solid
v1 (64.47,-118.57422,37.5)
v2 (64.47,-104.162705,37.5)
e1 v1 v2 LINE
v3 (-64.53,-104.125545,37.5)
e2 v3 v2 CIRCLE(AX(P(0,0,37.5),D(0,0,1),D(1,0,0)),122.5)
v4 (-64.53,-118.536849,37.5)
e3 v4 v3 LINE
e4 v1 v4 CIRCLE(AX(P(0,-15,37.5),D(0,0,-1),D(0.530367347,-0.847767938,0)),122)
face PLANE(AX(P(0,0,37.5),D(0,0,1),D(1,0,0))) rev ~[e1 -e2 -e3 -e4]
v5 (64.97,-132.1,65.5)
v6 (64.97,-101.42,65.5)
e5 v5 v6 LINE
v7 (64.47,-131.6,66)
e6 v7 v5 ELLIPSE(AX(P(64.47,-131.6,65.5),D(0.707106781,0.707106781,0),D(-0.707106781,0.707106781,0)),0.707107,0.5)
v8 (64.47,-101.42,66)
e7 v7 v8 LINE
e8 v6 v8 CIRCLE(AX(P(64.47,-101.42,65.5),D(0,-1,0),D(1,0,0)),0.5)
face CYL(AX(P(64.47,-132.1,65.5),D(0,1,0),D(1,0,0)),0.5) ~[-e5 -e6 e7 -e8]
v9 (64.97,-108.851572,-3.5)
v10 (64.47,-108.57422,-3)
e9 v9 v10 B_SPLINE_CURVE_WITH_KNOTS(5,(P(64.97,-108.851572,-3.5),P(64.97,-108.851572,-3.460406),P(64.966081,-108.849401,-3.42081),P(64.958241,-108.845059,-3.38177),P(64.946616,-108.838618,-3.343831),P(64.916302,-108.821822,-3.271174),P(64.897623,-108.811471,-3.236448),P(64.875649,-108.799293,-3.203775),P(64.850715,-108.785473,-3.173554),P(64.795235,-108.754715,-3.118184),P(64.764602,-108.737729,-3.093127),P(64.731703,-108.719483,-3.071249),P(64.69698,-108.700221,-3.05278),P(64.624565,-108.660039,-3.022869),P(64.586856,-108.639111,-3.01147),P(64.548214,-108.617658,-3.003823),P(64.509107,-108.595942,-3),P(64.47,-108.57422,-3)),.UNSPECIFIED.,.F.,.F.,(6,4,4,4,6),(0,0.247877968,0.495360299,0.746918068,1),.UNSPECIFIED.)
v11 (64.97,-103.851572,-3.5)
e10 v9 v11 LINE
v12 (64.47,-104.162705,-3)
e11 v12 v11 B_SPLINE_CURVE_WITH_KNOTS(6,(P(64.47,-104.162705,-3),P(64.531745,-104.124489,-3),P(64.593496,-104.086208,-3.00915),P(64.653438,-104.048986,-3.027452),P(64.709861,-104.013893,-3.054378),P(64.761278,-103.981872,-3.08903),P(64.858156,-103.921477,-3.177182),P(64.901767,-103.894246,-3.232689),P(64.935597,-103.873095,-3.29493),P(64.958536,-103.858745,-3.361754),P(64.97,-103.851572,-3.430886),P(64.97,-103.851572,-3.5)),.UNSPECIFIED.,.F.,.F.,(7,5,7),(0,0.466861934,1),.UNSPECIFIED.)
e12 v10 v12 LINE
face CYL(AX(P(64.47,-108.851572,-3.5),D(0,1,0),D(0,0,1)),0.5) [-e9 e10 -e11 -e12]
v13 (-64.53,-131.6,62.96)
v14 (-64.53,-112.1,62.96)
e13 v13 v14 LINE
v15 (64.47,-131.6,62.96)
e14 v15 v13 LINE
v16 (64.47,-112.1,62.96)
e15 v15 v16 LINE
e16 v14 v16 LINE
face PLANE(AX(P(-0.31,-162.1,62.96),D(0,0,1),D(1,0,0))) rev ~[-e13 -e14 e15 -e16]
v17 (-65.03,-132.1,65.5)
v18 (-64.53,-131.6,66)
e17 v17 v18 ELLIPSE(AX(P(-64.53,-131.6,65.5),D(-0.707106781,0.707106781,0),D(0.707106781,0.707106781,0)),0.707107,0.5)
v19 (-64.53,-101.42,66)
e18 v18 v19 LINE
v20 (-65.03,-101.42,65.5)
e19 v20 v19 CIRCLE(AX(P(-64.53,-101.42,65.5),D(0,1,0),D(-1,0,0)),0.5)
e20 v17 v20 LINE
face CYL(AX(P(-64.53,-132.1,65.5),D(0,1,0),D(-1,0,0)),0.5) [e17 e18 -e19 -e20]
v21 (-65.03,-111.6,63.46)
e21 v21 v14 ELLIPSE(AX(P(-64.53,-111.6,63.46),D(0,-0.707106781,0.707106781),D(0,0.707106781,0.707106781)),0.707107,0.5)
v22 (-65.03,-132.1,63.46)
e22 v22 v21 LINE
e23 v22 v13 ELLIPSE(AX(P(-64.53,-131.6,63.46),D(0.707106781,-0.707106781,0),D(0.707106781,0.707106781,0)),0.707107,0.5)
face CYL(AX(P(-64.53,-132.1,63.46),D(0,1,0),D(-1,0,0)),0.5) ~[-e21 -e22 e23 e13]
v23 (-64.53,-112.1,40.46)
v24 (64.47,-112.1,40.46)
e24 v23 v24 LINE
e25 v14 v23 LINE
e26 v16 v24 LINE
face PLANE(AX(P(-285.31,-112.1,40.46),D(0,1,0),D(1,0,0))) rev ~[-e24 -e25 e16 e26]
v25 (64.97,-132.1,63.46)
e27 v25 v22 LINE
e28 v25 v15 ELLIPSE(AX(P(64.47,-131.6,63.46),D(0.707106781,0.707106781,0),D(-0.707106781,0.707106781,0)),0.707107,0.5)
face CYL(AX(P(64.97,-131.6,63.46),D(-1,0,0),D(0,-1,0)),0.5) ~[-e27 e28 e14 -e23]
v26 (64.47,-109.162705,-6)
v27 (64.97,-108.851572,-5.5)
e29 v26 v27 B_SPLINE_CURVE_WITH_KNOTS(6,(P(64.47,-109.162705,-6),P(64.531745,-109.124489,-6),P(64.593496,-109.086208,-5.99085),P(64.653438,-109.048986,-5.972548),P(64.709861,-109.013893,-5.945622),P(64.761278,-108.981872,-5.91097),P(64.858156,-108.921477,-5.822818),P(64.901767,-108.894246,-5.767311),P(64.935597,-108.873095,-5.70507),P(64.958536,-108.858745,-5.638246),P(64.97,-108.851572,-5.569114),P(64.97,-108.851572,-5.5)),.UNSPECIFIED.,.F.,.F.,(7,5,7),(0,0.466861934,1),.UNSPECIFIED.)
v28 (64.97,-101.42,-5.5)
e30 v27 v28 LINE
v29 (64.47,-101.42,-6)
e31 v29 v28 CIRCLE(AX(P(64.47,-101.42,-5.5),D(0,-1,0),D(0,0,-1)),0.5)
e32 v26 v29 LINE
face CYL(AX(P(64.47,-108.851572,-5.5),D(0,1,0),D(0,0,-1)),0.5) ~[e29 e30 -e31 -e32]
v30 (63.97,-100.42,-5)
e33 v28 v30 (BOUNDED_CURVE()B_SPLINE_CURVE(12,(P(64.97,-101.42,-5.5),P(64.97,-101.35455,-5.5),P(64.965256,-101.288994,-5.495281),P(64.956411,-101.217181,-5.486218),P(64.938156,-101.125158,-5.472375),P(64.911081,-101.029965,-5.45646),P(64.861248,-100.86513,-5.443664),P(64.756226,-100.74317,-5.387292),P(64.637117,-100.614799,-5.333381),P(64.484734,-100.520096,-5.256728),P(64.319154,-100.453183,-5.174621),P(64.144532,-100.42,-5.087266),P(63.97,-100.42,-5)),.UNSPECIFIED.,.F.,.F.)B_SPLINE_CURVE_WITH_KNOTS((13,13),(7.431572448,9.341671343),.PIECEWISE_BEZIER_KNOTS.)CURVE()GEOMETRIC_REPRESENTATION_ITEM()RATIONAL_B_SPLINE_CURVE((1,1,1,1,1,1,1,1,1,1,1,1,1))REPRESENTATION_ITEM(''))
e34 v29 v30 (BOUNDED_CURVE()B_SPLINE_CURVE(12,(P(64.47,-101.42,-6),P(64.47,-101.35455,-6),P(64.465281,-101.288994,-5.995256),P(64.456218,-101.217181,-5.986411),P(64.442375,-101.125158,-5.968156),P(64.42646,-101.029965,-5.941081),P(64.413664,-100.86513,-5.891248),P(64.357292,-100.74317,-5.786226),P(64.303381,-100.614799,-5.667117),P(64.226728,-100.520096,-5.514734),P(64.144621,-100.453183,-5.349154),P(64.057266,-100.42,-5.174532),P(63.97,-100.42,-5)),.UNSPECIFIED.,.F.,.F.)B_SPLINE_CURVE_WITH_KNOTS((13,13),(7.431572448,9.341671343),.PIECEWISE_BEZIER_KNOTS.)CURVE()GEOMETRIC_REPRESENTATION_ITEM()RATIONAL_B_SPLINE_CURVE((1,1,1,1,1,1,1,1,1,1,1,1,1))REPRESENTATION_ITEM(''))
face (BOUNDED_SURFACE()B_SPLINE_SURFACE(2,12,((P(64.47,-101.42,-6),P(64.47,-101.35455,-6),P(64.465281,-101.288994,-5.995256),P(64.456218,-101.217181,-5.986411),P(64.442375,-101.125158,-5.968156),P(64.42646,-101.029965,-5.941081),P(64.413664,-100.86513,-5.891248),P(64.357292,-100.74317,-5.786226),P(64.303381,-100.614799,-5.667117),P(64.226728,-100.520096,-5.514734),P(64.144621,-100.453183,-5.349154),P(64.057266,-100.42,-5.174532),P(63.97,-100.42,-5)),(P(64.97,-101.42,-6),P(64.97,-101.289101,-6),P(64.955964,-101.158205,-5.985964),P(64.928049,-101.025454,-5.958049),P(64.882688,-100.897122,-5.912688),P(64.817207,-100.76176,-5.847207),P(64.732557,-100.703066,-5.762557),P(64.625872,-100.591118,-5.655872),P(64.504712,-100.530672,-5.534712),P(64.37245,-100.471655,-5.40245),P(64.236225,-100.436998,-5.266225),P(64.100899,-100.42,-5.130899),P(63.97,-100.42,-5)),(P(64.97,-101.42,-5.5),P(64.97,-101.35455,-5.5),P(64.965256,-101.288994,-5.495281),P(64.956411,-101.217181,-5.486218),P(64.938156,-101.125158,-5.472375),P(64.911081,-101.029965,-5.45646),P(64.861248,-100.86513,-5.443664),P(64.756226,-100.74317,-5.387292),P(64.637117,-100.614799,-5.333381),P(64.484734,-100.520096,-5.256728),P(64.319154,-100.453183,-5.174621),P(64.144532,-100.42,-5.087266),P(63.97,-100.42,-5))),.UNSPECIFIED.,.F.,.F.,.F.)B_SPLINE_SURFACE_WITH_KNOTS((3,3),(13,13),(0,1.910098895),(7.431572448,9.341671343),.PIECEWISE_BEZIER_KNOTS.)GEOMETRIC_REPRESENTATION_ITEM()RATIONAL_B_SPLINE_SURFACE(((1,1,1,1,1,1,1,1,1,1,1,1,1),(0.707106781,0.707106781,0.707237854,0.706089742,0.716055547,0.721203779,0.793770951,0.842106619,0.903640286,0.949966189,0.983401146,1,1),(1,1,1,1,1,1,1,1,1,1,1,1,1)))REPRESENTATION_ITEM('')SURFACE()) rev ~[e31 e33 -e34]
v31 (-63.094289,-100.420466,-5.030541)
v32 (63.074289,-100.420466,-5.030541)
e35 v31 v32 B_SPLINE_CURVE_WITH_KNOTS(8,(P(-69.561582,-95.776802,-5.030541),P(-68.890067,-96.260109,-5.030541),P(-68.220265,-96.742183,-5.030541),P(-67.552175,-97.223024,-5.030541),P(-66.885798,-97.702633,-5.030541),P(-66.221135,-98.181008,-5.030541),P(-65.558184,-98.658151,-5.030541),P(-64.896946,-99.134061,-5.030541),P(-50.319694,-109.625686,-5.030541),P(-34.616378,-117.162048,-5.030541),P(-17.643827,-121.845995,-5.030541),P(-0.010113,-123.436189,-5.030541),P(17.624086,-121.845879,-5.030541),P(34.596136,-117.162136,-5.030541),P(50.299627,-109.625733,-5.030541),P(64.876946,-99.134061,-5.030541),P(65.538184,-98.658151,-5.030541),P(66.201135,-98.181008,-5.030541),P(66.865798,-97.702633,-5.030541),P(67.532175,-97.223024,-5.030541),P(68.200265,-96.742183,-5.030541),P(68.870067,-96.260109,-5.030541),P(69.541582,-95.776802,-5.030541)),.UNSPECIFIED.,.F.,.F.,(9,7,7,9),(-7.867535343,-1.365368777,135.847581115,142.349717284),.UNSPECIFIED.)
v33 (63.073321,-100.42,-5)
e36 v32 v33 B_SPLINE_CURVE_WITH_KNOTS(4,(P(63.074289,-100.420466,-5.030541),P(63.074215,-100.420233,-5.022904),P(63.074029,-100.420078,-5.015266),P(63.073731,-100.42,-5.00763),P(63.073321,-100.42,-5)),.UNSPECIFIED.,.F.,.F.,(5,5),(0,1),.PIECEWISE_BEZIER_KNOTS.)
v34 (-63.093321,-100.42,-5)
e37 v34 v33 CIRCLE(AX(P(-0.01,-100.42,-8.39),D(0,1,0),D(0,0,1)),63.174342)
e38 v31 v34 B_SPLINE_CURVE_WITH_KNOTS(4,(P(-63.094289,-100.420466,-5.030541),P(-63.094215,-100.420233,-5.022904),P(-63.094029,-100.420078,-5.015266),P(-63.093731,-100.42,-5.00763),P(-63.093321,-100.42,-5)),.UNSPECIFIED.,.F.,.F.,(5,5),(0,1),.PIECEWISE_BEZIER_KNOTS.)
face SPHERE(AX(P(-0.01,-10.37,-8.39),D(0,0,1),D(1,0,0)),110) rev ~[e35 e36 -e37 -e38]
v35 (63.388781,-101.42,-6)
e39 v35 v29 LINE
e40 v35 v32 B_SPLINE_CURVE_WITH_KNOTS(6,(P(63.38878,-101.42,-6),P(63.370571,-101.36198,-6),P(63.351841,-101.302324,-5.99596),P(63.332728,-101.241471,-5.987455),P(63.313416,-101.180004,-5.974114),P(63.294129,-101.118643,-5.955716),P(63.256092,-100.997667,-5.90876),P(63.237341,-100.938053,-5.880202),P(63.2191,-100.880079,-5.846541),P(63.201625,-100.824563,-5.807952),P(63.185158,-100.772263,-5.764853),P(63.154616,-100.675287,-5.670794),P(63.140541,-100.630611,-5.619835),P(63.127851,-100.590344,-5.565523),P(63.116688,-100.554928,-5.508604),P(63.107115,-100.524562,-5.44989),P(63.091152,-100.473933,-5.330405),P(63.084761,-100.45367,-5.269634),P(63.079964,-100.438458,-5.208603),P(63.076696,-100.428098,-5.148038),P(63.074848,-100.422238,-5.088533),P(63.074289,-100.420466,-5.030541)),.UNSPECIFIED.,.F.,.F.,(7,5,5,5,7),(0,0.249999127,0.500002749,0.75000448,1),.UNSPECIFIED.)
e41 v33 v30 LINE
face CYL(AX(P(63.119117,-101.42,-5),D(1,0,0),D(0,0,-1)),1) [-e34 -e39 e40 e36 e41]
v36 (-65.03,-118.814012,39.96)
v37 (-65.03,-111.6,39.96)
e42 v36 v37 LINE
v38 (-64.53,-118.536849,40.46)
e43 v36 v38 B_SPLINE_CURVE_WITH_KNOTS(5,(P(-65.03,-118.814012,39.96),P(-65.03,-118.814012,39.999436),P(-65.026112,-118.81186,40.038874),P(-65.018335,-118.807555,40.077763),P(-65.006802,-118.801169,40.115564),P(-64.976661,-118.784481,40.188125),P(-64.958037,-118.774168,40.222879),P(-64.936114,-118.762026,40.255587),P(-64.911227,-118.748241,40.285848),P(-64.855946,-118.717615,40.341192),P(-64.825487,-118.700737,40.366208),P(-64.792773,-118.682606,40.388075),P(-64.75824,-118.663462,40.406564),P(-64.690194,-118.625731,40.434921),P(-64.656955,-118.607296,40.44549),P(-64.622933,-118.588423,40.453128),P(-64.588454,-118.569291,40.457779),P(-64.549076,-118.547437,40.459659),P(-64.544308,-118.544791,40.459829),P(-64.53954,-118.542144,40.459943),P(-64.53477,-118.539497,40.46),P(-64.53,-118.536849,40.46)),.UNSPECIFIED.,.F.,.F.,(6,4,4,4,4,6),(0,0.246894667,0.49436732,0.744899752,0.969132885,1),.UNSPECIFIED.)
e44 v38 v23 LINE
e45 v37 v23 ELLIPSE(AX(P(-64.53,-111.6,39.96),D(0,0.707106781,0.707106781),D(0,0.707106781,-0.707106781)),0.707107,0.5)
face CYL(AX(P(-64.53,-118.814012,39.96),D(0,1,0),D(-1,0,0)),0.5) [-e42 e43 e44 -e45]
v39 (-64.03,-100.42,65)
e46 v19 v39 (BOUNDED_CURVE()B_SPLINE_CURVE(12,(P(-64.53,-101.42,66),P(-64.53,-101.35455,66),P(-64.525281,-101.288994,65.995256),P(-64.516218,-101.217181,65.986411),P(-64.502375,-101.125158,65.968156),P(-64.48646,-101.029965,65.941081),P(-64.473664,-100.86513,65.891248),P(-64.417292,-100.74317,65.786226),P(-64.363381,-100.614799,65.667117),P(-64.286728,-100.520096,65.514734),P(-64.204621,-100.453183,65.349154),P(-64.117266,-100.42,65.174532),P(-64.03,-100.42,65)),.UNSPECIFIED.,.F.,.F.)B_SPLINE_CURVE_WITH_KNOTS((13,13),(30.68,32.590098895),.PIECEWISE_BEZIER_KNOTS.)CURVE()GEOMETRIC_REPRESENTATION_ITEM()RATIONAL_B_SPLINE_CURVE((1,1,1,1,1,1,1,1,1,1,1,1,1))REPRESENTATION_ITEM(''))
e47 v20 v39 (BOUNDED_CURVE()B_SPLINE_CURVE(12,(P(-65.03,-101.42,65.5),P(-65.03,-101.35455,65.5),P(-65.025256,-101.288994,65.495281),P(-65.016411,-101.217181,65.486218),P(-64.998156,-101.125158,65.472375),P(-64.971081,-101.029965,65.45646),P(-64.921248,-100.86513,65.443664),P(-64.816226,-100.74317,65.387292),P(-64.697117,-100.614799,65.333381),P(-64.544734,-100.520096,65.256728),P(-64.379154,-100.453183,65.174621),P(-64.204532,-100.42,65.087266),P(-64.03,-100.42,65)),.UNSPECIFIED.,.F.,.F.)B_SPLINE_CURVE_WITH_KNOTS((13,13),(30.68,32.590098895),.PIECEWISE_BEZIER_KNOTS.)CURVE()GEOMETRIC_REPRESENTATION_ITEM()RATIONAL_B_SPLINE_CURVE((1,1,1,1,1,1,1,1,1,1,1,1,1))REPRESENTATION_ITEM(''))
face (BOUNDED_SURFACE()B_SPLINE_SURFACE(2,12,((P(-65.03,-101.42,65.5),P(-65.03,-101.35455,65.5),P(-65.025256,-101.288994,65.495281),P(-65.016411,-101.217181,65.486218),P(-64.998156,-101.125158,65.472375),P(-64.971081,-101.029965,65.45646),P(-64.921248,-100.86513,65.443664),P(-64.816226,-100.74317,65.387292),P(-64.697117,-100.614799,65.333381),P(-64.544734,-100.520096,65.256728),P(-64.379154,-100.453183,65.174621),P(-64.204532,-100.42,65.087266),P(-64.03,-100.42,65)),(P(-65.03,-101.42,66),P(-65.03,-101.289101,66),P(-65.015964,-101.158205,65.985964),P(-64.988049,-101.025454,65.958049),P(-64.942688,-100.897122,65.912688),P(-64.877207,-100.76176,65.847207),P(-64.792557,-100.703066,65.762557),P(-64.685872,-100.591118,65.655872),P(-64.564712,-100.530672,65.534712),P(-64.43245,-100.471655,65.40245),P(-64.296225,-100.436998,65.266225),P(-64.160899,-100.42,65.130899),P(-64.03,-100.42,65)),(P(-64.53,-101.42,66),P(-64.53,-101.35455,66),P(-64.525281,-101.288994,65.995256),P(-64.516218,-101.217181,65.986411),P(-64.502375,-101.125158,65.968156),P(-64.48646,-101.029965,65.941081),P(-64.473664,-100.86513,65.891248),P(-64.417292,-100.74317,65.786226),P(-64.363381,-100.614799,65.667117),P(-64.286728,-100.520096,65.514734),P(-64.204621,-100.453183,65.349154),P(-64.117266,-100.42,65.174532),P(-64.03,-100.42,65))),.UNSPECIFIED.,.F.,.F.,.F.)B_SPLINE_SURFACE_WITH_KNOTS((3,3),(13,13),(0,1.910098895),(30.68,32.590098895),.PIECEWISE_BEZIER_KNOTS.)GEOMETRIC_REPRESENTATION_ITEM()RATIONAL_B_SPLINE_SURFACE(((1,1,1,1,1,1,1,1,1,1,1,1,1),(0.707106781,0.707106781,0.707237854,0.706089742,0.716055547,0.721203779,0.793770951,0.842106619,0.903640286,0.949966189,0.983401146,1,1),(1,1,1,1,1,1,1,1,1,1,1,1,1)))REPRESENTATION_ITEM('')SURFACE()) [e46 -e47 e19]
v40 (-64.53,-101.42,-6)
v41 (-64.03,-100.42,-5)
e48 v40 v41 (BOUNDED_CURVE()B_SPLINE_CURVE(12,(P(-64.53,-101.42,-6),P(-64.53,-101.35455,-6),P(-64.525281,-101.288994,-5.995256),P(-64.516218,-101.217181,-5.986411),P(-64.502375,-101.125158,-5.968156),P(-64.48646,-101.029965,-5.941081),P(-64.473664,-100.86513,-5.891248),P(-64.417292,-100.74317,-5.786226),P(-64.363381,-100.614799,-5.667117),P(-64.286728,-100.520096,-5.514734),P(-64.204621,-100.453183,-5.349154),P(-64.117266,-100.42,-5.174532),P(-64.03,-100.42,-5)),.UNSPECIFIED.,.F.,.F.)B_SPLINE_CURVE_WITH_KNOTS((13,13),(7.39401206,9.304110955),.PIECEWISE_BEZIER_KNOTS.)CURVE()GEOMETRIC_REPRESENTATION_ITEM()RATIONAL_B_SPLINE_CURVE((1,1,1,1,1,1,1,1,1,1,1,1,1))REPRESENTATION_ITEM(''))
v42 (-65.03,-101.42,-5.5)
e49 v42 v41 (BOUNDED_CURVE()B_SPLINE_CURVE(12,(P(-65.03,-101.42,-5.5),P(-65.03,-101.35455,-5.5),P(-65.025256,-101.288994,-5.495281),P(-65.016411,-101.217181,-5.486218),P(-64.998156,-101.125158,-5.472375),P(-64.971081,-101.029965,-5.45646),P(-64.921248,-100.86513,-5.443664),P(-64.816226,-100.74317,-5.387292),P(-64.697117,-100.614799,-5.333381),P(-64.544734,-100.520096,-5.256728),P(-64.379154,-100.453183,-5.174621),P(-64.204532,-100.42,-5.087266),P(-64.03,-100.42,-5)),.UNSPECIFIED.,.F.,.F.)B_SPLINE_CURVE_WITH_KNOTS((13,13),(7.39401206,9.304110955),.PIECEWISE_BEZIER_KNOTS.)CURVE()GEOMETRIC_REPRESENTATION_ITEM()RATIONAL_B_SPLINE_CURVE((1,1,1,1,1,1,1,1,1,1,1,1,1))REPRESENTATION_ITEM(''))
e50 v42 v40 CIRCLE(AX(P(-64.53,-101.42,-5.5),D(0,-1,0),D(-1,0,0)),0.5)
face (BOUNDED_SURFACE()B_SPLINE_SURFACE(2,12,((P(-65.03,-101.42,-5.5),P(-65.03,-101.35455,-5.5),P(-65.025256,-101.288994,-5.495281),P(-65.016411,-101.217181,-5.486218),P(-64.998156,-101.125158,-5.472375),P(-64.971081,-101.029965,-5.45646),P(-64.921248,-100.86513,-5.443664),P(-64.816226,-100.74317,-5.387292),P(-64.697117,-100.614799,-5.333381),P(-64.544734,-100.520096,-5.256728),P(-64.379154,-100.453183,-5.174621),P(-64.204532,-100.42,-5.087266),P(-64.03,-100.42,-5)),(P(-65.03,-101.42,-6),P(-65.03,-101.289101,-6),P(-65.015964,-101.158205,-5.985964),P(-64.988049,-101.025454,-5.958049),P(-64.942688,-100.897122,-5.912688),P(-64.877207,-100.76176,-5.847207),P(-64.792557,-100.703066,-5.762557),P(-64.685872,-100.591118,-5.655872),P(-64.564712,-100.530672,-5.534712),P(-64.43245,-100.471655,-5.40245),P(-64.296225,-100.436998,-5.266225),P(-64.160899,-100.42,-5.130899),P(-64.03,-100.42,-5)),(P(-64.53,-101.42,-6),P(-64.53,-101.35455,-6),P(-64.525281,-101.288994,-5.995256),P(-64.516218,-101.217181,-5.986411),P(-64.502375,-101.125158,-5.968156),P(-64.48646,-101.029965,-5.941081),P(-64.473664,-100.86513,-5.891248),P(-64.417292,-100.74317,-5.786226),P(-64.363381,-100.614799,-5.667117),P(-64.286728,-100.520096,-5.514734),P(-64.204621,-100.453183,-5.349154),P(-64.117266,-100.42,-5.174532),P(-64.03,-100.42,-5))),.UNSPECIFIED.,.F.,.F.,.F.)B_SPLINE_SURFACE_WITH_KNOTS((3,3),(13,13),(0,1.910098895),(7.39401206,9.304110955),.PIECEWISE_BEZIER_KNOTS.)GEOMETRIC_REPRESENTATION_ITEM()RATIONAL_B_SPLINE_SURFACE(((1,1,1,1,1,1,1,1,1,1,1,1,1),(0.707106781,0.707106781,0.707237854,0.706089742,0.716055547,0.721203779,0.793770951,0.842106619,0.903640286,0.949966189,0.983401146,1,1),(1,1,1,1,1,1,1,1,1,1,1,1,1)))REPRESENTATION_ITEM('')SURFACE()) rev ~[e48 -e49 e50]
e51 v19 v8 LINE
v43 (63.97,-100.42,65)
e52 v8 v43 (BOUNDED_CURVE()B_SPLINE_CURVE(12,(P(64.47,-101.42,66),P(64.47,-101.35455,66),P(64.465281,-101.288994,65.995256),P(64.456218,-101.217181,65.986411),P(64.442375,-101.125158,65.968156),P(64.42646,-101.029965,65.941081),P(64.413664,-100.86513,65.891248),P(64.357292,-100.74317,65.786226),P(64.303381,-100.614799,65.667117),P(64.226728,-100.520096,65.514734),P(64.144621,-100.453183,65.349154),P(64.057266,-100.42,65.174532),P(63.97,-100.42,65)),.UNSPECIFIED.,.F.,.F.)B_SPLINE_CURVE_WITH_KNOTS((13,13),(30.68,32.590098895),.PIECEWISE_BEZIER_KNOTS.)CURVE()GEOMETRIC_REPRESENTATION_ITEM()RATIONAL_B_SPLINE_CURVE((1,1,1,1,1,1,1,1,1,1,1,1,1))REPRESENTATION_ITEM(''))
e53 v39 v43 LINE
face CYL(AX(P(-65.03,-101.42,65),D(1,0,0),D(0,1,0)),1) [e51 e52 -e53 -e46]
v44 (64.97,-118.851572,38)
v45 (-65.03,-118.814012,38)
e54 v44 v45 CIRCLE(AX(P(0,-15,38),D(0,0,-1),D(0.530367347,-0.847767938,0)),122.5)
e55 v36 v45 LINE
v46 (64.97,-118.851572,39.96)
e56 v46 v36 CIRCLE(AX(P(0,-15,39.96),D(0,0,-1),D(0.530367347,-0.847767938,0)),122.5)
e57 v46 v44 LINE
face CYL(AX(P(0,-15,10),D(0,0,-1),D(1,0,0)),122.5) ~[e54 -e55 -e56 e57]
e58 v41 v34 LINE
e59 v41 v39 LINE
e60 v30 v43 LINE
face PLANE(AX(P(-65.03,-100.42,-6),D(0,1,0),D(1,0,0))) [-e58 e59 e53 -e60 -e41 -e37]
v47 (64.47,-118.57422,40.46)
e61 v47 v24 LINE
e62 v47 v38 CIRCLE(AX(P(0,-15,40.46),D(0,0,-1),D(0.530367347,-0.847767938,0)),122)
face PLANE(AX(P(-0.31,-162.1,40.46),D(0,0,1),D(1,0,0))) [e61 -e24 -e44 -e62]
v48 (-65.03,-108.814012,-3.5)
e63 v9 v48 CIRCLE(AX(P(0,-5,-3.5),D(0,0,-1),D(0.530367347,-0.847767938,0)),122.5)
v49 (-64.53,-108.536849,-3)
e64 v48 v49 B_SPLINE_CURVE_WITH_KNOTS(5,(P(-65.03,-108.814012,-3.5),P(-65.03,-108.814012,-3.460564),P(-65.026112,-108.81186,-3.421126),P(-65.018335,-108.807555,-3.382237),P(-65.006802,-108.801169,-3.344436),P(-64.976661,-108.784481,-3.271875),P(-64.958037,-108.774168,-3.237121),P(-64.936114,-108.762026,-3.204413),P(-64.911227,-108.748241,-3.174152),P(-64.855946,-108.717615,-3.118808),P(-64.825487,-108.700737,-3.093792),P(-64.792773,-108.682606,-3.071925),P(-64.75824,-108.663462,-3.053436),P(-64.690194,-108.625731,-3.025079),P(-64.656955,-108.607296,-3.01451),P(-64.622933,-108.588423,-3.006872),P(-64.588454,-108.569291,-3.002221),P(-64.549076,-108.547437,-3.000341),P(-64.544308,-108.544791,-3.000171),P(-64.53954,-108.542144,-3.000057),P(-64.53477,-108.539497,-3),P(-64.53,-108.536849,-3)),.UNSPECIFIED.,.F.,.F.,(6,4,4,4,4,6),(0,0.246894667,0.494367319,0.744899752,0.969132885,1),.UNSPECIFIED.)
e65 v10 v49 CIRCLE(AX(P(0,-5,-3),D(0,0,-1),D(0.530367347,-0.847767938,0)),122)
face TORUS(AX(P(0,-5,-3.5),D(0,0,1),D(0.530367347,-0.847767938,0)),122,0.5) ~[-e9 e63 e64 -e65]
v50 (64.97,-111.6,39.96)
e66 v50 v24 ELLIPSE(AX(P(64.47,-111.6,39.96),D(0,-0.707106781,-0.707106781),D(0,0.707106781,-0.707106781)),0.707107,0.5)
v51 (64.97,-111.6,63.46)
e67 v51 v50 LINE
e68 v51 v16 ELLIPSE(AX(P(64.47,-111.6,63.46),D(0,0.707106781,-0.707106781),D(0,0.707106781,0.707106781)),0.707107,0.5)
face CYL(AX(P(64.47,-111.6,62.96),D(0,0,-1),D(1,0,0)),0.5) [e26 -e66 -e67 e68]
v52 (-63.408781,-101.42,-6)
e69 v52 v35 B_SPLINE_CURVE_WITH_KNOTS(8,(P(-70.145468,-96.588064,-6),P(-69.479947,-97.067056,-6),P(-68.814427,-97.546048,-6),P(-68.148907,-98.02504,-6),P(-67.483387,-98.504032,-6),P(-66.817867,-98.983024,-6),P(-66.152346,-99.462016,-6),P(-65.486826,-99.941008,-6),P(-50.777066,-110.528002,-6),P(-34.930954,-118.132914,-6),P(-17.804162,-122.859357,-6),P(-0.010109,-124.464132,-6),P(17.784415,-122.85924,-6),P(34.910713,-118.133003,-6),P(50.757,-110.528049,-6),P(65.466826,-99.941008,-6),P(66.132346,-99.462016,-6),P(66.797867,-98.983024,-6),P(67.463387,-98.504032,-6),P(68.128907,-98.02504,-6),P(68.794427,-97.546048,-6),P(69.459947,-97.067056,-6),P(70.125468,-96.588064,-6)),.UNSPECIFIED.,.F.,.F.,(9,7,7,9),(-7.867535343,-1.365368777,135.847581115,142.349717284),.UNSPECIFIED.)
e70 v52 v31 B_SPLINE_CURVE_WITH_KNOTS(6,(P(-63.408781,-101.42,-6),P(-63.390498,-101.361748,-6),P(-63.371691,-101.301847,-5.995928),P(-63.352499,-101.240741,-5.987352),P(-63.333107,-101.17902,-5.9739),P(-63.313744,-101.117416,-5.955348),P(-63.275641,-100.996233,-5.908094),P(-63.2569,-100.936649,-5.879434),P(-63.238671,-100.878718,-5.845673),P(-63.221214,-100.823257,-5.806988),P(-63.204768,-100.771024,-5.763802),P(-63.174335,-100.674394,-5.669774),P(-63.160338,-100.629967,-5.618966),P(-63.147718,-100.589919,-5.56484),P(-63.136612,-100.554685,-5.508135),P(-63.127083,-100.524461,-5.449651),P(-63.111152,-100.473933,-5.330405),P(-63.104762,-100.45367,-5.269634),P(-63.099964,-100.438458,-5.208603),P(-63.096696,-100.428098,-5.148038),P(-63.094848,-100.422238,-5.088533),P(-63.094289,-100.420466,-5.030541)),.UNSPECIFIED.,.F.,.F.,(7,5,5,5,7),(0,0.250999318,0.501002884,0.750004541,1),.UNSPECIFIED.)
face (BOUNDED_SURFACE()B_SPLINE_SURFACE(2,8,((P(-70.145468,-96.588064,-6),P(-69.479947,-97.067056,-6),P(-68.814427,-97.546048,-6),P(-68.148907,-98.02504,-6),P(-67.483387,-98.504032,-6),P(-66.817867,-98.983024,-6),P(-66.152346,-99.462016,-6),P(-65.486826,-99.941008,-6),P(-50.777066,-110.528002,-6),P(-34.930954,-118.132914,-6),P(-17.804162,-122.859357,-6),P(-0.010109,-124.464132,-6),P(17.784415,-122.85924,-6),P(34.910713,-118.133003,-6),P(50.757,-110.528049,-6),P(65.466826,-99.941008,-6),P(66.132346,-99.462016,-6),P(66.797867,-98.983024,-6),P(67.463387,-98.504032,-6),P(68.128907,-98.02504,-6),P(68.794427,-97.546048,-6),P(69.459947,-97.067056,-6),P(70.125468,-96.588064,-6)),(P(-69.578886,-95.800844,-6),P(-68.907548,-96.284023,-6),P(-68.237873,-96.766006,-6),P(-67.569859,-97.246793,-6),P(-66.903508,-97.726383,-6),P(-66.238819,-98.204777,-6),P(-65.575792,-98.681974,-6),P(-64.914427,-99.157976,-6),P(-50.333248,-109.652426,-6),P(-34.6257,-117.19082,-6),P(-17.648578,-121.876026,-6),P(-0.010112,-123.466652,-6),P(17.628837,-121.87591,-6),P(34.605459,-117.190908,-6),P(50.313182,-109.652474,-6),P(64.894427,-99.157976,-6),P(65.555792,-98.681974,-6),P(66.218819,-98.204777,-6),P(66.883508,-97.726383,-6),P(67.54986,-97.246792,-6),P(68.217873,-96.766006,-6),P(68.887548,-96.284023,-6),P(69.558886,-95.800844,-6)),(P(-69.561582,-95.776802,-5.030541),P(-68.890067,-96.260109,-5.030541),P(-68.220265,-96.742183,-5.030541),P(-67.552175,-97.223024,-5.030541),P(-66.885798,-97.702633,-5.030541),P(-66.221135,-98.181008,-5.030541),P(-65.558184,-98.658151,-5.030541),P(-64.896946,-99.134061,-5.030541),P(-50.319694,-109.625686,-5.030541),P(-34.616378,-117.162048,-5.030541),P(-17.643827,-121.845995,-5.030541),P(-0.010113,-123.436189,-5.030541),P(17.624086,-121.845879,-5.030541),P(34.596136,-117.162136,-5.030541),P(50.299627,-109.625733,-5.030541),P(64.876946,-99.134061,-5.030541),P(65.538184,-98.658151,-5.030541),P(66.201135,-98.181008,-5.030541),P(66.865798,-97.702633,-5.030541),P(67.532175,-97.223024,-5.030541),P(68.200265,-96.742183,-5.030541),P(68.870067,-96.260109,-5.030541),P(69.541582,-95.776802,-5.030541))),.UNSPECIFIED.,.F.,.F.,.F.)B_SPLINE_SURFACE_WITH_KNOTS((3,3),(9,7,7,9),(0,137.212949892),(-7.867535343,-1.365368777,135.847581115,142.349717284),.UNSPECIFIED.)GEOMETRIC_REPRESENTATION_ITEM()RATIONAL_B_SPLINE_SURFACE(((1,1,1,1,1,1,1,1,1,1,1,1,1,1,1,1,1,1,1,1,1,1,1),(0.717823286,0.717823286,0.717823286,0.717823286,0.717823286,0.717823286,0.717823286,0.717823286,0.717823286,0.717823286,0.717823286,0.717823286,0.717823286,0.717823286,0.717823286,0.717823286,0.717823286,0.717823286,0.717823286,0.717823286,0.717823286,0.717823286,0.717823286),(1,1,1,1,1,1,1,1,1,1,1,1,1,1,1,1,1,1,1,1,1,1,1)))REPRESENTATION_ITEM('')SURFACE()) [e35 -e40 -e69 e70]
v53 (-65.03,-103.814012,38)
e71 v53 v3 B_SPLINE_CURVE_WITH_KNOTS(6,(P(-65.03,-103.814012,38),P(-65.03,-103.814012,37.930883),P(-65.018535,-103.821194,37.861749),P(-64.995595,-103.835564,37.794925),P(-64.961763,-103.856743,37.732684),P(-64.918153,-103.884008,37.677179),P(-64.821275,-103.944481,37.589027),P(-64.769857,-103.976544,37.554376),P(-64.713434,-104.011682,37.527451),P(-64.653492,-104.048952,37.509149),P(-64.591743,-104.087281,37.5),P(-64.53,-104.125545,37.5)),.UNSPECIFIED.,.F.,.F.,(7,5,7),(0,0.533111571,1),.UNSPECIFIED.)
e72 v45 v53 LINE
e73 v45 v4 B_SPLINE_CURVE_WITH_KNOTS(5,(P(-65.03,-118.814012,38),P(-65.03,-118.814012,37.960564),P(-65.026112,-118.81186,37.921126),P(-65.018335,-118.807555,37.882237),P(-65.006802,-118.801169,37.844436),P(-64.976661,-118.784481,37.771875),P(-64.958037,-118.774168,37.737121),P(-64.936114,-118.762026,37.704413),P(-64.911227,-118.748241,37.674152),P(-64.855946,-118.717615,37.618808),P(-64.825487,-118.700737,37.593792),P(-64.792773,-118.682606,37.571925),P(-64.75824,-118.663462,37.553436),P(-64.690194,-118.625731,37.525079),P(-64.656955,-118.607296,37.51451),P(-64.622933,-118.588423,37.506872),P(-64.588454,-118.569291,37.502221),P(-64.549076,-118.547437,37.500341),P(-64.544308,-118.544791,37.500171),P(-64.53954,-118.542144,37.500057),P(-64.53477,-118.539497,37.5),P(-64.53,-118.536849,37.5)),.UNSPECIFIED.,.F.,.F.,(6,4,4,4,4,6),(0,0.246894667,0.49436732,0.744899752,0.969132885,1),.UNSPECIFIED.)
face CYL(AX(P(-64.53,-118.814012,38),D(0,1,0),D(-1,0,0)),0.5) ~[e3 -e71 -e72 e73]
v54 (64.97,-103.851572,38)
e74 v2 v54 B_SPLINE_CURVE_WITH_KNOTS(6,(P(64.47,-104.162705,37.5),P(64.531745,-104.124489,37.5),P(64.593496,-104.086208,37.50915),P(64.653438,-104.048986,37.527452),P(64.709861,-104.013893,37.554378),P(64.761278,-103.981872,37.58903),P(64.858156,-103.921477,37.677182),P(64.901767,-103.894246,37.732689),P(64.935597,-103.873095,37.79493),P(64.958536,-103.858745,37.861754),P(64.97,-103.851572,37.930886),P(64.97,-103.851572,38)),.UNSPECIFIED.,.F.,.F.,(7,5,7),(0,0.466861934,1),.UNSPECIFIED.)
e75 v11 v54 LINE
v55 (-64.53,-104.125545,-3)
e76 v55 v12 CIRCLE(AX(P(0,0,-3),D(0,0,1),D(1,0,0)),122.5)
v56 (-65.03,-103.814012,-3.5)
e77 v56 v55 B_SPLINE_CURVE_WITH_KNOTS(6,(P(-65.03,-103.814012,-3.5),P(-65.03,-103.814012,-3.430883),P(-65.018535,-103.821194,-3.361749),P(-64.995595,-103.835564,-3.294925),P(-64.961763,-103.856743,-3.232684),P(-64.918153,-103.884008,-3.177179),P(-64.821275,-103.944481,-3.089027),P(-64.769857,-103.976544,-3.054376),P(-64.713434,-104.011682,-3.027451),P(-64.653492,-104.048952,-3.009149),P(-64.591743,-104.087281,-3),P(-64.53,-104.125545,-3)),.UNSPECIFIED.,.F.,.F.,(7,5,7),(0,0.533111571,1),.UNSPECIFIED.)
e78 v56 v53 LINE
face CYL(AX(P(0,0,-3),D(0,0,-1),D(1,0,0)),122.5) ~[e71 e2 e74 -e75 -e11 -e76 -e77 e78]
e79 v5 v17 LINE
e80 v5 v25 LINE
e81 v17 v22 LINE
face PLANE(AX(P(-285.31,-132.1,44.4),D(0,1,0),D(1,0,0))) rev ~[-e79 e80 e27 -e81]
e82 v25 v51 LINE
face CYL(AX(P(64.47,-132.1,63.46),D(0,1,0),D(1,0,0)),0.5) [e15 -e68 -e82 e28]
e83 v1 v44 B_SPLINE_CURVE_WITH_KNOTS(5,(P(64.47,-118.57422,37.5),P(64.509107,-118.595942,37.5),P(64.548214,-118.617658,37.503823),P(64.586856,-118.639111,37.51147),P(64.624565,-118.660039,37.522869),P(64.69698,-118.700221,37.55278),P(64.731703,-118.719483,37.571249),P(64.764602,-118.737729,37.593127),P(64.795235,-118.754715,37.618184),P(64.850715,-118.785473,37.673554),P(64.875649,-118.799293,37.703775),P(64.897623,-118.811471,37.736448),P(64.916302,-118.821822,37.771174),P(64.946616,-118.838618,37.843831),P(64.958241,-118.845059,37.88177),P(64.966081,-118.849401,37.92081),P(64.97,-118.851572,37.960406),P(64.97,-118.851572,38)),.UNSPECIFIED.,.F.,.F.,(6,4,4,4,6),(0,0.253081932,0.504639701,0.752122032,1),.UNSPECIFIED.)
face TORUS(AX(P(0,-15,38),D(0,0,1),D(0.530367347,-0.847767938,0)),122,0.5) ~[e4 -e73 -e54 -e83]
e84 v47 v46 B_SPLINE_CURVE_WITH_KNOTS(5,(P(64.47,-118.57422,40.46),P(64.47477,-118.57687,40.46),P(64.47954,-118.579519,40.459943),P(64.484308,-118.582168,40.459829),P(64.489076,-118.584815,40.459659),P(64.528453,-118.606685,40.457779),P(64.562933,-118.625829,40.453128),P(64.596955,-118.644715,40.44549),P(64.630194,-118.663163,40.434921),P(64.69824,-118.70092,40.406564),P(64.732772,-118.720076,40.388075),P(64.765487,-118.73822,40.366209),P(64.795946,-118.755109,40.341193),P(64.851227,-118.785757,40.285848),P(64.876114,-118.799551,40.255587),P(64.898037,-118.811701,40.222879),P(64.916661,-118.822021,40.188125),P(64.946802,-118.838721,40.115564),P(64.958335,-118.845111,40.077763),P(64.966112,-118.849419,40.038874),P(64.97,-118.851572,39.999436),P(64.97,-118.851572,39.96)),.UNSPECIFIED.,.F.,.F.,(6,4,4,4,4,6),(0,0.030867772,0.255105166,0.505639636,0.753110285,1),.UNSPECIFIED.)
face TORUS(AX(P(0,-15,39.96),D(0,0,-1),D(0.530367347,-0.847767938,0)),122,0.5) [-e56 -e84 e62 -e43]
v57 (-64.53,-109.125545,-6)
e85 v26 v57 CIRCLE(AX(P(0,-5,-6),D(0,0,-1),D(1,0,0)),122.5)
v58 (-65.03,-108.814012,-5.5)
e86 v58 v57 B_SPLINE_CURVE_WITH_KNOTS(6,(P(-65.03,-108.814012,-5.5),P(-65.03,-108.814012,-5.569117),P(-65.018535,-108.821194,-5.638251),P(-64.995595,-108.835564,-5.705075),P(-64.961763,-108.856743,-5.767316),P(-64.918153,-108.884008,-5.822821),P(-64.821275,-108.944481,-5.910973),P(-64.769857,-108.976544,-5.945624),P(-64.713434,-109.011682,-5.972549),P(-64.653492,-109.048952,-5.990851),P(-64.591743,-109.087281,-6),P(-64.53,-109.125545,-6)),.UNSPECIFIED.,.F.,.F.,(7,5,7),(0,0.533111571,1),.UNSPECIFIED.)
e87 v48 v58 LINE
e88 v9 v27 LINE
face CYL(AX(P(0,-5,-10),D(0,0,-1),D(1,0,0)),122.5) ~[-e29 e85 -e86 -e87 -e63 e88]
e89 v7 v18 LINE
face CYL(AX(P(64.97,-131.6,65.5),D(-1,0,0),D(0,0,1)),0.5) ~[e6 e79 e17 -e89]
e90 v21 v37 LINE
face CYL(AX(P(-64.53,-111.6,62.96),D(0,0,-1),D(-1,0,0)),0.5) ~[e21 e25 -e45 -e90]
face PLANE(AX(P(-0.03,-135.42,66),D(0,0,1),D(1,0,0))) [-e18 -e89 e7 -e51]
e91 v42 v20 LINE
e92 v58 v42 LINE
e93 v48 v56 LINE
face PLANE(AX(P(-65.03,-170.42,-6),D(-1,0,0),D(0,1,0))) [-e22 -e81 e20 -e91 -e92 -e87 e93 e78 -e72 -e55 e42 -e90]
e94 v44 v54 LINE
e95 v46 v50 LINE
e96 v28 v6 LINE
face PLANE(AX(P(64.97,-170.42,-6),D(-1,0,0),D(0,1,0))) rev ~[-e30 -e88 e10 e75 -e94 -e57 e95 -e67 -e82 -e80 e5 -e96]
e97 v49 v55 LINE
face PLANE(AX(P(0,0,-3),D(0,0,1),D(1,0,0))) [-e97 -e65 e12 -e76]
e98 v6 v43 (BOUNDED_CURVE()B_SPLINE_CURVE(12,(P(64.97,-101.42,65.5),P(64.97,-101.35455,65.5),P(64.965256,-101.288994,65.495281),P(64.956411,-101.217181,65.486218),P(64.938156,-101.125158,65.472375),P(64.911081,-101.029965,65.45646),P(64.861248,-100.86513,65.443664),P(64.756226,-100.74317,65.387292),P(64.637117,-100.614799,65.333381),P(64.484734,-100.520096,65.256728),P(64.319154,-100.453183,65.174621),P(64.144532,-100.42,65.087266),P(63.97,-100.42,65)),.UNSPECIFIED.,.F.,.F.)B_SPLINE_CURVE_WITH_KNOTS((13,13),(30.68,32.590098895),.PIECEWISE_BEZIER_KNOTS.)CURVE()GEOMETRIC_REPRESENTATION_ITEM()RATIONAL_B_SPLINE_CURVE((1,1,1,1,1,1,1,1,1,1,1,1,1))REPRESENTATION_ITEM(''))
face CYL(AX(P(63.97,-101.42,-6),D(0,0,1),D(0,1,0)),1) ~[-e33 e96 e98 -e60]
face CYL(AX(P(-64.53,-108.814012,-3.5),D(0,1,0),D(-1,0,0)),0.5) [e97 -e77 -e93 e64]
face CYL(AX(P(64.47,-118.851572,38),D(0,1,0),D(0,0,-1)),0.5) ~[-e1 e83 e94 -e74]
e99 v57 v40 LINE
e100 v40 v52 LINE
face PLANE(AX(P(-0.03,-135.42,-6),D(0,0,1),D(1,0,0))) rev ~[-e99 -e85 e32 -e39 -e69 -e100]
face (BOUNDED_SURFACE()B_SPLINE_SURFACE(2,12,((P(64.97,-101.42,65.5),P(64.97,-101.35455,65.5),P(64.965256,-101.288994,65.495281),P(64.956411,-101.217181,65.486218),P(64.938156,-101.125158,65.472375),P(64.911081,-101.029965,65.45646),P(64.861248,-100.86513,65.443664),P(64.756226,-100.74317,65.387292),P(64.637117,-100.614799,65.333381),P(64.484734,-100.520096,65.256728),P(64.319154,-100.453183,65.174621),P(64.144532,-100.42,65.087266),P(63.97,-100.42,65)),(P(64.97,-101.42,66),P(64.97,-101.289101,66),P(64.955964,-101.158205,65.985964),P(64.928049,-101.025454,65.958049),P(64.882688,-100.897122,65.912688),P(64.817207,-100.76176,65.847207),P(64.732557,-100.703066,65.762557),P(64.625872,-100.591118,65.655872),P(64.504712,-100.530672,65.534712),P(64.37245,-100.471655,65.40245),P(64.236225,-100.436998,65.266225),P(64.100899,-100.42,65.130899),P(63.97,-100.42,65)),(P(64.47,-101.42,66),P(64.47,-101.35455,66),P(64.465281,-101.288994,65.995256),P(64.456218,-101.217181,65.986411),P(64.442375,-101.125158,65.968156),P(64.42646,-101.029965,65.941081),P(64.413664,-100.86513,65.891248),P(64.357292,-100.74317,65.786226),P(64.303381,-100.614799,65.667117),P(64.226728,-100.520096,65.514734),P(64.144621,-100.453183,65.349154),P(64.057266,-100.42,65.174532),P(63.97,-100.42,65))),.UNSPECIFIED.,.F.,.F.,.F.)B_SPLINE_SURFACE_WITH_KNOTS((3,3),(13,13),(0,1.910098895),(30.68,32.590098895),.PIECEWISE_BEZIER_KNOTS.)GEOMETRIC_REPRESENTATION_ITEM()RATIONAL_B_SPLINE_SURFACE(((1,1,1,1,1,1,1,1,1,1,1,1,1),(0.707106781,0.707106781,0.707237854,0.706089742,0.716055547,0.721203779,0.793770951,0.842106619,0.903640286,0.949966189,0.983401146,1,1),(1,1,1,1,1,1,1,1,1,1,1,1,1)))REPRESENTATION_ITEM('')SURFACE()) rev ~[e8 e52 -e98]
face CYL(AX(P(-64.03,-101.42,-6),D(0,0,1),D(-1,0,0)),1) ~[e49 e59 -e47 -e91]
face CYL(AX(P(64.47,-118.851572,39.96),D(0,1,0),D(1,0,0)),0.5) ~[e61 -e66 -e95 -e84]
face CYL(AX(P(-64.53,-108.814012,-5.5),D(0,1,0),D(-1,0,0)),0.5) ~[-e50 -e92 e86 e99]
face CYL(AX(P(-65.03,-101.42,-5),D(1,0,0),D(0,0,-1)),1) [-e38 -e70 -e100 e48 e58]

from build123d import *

# Parameters (mm, degrees)
BOX003_W      = 570
BOX003_H      = 100
BOX003_DEPTH  = 22.5
TUBE003_R     = 250
TUBE003_R_2   = 122.5
TUBE003_DEPTH = 37.5
TUBE002_R     = 250
TUBE002_R_2   = 122.5
TUBE002_DEPTH = 37.5
TUBE001_R     = 250
TUBE001_R_2   = 122.5
TUBE001_DEPTH = 40.5
BOX001_W      = 570
BOX001_H      = 100
BOX001_DEPTH  = 22.5
BOX_W         = 130
BOX_H         = 70
BOX_DEPTH     = 72
FILLET_R      = 1
FILLET001_R   = 0.5
FILLET002_R   = 0.5
FILLET003_R   = 0.5


with BuildPart() as sphere:
    # Sphere → Sphere (revolve)
    with BuildSketch(Plane(origin=(-0.01, -10.37, -8.39), x_dir=(1, 0, 0), z_dir=(0, -1, 0))):
        with BuildLine():
            ThreePointArc((0, -110), (110, 0), (0, 110))
            Line((0, 110), (0, -110))
        make_face()
    revolve(axis=Axis((-0.01, -10.37, -8.39), (0, 0, 1)))


with BuildPart() as box003:
    # Box003 → Box003 (new body)
    with BuildSketch(Plane(origin=(-285.31, -232.1, 44.4), x_dir=(1, 0, 0), z_dir=(0, 0, 1))):
        with Locations((285, 50)):
            Rectangle(BOX003_W, BOX003_H)
    extrude(amount=BOX003_DEPTH)


with BuildPart() as tube003:
    # Tube003 → Tube003 (new body)
    with BuildSketch(Plane(origin=(0, -15, 10), x_dir=(1, 0, 0), z_dir=(0, 0, 1))):
        Circle(TUBE003_R)
        Circle(TUBE003_R_2, mode=Mode.SUBTRACT)
    extrude(amount=TUBE003_DEPTH)


with BuildPart() as tube002:
    # Tube002 → Tube002 (new body)
    with BuildSketch(Plane(origin=(0, -5, -10), x_dir=(1, 0, 0), z_dir=(0, 0, 1))):
        Circle(TUBE002_R)
        Circle(TUBE002_R_2, mode=Mode.SUBTRACT)
    extrude(amount=TUBE002_DEPTH)


with BuildPart() as tube001:
    # Tube001 → Tube001 (new body)
    with BuildSketch(Plane.XY.offset(-3)):
        Circle(TUBE001_R)
        Circle(TUBE001_R_2, mode=Mode.SUBTRACT)
    extrude(amount=TUBE001_DEPTH)


with BuildPart() as box001:
    # Box001 → Box001 (new body)
    with BuildSketch(Plane(origin=(-285.31, -212.1, 40.46), x_dir=(1, 0, 0), z_dir=(0, 0, 1))):
        with Locations((285, 50)):
            Rectangle(BOX001_W, BOX001_H)
    extrude(amount=BOX001_DEPTH)


with BuildPart() as fillet003:
    # Box → Box (new body)
    with BuildSketch(Plane(origin=(-65.03, -170.42, -6), x_dir=(1, 0, 0), z_dir=(0, 0, 1))):
        with Locations((65, 35)):
            Rectangle(BOX_W, BOX_H)
    extrude(amount=BOX_DEPTH)

    # Cut: cut Box001
    add(box001.part, mode=Mode.SUBTRACT)

    # Cut001: cut Tube001
    add(tube001.part, mode=Mode.SUBTRACT)

    # Cut002: cut Tube002
    add(tube002.part, mode=Mode.SUBTRACT)

    # Cut003: cut Tube003
    add(tube003.part, mode=Mode.SUBTRACT)

    # Cut004: cut Box003
    add(box003.part, mode=Mode.SUBTRACT)

    # Cut005: cut Sphere
    add(sphere.part, mode=Mode.SUBTRACT)

    # Fillet
    fillet_edges = [fillet003.edges().sort_by_distance(p)[0] for p in [
        (-65.03, -100.42, 30),
        (-0.03, -100.42, 66),
        (-64.084558, -100.42, -6),
        (64.044558, -100.42, -6),
        (64.97, -100.42, 30),
        (-0.01, -120.344033, -6),
    ]]
    fillet(fillet_edges, radius=FILLET_R)

    # Fillet001
    fillet001_edges = [fillet003.edges().sort_by_distance(p)[0] for p in [
        (-65.03, -105.117006, -6),
        (64.97, -105.135786, -6),
    ]]
    fillet(fillet001_edges, radius=FILLET001_R)

    # Fillet002
    fillet002_edges = [fillet003.edges().sort_by_distance(p)[0] for p in [
        (-65.03, -111.314012, 37.5),
        (-65.03, -106.314012, -3),
        (-0.035393, -127.499995, -3),
        (64.97, -106.351572, -3),
        (64.97, -111.351572, 37.5),
        (-0.035393, -137.499995, 37.5),
    ]]
    fillet(fillet002_edges, radius=FILLET002_R)

    # Fillet003
    fillet003_edges = [fillet003.edges().sort_by_distance(p)[0] for p in [
        (-65.03, -116.76, 66),
        (-65.03, -122.1, 62.96),
        (-65.03, -112.1, 51.71),
        (-65.03, -115.457006, 40.46),
        (-0.03, -132.1, 66),
        (64.97, -116.76, 66),
        (-0.03, -132.1, 62.96),
        (64.97, -122.1, 62.96),
        (-0.035393, -137.499995, 40.46),
        (64.97, -112.1, 51.71),
        (64.97, -115.475786, 40.46),
    ]]
    fillet(fillet003_edges, radius=FILLET003_R)


solid = fillet003.part
